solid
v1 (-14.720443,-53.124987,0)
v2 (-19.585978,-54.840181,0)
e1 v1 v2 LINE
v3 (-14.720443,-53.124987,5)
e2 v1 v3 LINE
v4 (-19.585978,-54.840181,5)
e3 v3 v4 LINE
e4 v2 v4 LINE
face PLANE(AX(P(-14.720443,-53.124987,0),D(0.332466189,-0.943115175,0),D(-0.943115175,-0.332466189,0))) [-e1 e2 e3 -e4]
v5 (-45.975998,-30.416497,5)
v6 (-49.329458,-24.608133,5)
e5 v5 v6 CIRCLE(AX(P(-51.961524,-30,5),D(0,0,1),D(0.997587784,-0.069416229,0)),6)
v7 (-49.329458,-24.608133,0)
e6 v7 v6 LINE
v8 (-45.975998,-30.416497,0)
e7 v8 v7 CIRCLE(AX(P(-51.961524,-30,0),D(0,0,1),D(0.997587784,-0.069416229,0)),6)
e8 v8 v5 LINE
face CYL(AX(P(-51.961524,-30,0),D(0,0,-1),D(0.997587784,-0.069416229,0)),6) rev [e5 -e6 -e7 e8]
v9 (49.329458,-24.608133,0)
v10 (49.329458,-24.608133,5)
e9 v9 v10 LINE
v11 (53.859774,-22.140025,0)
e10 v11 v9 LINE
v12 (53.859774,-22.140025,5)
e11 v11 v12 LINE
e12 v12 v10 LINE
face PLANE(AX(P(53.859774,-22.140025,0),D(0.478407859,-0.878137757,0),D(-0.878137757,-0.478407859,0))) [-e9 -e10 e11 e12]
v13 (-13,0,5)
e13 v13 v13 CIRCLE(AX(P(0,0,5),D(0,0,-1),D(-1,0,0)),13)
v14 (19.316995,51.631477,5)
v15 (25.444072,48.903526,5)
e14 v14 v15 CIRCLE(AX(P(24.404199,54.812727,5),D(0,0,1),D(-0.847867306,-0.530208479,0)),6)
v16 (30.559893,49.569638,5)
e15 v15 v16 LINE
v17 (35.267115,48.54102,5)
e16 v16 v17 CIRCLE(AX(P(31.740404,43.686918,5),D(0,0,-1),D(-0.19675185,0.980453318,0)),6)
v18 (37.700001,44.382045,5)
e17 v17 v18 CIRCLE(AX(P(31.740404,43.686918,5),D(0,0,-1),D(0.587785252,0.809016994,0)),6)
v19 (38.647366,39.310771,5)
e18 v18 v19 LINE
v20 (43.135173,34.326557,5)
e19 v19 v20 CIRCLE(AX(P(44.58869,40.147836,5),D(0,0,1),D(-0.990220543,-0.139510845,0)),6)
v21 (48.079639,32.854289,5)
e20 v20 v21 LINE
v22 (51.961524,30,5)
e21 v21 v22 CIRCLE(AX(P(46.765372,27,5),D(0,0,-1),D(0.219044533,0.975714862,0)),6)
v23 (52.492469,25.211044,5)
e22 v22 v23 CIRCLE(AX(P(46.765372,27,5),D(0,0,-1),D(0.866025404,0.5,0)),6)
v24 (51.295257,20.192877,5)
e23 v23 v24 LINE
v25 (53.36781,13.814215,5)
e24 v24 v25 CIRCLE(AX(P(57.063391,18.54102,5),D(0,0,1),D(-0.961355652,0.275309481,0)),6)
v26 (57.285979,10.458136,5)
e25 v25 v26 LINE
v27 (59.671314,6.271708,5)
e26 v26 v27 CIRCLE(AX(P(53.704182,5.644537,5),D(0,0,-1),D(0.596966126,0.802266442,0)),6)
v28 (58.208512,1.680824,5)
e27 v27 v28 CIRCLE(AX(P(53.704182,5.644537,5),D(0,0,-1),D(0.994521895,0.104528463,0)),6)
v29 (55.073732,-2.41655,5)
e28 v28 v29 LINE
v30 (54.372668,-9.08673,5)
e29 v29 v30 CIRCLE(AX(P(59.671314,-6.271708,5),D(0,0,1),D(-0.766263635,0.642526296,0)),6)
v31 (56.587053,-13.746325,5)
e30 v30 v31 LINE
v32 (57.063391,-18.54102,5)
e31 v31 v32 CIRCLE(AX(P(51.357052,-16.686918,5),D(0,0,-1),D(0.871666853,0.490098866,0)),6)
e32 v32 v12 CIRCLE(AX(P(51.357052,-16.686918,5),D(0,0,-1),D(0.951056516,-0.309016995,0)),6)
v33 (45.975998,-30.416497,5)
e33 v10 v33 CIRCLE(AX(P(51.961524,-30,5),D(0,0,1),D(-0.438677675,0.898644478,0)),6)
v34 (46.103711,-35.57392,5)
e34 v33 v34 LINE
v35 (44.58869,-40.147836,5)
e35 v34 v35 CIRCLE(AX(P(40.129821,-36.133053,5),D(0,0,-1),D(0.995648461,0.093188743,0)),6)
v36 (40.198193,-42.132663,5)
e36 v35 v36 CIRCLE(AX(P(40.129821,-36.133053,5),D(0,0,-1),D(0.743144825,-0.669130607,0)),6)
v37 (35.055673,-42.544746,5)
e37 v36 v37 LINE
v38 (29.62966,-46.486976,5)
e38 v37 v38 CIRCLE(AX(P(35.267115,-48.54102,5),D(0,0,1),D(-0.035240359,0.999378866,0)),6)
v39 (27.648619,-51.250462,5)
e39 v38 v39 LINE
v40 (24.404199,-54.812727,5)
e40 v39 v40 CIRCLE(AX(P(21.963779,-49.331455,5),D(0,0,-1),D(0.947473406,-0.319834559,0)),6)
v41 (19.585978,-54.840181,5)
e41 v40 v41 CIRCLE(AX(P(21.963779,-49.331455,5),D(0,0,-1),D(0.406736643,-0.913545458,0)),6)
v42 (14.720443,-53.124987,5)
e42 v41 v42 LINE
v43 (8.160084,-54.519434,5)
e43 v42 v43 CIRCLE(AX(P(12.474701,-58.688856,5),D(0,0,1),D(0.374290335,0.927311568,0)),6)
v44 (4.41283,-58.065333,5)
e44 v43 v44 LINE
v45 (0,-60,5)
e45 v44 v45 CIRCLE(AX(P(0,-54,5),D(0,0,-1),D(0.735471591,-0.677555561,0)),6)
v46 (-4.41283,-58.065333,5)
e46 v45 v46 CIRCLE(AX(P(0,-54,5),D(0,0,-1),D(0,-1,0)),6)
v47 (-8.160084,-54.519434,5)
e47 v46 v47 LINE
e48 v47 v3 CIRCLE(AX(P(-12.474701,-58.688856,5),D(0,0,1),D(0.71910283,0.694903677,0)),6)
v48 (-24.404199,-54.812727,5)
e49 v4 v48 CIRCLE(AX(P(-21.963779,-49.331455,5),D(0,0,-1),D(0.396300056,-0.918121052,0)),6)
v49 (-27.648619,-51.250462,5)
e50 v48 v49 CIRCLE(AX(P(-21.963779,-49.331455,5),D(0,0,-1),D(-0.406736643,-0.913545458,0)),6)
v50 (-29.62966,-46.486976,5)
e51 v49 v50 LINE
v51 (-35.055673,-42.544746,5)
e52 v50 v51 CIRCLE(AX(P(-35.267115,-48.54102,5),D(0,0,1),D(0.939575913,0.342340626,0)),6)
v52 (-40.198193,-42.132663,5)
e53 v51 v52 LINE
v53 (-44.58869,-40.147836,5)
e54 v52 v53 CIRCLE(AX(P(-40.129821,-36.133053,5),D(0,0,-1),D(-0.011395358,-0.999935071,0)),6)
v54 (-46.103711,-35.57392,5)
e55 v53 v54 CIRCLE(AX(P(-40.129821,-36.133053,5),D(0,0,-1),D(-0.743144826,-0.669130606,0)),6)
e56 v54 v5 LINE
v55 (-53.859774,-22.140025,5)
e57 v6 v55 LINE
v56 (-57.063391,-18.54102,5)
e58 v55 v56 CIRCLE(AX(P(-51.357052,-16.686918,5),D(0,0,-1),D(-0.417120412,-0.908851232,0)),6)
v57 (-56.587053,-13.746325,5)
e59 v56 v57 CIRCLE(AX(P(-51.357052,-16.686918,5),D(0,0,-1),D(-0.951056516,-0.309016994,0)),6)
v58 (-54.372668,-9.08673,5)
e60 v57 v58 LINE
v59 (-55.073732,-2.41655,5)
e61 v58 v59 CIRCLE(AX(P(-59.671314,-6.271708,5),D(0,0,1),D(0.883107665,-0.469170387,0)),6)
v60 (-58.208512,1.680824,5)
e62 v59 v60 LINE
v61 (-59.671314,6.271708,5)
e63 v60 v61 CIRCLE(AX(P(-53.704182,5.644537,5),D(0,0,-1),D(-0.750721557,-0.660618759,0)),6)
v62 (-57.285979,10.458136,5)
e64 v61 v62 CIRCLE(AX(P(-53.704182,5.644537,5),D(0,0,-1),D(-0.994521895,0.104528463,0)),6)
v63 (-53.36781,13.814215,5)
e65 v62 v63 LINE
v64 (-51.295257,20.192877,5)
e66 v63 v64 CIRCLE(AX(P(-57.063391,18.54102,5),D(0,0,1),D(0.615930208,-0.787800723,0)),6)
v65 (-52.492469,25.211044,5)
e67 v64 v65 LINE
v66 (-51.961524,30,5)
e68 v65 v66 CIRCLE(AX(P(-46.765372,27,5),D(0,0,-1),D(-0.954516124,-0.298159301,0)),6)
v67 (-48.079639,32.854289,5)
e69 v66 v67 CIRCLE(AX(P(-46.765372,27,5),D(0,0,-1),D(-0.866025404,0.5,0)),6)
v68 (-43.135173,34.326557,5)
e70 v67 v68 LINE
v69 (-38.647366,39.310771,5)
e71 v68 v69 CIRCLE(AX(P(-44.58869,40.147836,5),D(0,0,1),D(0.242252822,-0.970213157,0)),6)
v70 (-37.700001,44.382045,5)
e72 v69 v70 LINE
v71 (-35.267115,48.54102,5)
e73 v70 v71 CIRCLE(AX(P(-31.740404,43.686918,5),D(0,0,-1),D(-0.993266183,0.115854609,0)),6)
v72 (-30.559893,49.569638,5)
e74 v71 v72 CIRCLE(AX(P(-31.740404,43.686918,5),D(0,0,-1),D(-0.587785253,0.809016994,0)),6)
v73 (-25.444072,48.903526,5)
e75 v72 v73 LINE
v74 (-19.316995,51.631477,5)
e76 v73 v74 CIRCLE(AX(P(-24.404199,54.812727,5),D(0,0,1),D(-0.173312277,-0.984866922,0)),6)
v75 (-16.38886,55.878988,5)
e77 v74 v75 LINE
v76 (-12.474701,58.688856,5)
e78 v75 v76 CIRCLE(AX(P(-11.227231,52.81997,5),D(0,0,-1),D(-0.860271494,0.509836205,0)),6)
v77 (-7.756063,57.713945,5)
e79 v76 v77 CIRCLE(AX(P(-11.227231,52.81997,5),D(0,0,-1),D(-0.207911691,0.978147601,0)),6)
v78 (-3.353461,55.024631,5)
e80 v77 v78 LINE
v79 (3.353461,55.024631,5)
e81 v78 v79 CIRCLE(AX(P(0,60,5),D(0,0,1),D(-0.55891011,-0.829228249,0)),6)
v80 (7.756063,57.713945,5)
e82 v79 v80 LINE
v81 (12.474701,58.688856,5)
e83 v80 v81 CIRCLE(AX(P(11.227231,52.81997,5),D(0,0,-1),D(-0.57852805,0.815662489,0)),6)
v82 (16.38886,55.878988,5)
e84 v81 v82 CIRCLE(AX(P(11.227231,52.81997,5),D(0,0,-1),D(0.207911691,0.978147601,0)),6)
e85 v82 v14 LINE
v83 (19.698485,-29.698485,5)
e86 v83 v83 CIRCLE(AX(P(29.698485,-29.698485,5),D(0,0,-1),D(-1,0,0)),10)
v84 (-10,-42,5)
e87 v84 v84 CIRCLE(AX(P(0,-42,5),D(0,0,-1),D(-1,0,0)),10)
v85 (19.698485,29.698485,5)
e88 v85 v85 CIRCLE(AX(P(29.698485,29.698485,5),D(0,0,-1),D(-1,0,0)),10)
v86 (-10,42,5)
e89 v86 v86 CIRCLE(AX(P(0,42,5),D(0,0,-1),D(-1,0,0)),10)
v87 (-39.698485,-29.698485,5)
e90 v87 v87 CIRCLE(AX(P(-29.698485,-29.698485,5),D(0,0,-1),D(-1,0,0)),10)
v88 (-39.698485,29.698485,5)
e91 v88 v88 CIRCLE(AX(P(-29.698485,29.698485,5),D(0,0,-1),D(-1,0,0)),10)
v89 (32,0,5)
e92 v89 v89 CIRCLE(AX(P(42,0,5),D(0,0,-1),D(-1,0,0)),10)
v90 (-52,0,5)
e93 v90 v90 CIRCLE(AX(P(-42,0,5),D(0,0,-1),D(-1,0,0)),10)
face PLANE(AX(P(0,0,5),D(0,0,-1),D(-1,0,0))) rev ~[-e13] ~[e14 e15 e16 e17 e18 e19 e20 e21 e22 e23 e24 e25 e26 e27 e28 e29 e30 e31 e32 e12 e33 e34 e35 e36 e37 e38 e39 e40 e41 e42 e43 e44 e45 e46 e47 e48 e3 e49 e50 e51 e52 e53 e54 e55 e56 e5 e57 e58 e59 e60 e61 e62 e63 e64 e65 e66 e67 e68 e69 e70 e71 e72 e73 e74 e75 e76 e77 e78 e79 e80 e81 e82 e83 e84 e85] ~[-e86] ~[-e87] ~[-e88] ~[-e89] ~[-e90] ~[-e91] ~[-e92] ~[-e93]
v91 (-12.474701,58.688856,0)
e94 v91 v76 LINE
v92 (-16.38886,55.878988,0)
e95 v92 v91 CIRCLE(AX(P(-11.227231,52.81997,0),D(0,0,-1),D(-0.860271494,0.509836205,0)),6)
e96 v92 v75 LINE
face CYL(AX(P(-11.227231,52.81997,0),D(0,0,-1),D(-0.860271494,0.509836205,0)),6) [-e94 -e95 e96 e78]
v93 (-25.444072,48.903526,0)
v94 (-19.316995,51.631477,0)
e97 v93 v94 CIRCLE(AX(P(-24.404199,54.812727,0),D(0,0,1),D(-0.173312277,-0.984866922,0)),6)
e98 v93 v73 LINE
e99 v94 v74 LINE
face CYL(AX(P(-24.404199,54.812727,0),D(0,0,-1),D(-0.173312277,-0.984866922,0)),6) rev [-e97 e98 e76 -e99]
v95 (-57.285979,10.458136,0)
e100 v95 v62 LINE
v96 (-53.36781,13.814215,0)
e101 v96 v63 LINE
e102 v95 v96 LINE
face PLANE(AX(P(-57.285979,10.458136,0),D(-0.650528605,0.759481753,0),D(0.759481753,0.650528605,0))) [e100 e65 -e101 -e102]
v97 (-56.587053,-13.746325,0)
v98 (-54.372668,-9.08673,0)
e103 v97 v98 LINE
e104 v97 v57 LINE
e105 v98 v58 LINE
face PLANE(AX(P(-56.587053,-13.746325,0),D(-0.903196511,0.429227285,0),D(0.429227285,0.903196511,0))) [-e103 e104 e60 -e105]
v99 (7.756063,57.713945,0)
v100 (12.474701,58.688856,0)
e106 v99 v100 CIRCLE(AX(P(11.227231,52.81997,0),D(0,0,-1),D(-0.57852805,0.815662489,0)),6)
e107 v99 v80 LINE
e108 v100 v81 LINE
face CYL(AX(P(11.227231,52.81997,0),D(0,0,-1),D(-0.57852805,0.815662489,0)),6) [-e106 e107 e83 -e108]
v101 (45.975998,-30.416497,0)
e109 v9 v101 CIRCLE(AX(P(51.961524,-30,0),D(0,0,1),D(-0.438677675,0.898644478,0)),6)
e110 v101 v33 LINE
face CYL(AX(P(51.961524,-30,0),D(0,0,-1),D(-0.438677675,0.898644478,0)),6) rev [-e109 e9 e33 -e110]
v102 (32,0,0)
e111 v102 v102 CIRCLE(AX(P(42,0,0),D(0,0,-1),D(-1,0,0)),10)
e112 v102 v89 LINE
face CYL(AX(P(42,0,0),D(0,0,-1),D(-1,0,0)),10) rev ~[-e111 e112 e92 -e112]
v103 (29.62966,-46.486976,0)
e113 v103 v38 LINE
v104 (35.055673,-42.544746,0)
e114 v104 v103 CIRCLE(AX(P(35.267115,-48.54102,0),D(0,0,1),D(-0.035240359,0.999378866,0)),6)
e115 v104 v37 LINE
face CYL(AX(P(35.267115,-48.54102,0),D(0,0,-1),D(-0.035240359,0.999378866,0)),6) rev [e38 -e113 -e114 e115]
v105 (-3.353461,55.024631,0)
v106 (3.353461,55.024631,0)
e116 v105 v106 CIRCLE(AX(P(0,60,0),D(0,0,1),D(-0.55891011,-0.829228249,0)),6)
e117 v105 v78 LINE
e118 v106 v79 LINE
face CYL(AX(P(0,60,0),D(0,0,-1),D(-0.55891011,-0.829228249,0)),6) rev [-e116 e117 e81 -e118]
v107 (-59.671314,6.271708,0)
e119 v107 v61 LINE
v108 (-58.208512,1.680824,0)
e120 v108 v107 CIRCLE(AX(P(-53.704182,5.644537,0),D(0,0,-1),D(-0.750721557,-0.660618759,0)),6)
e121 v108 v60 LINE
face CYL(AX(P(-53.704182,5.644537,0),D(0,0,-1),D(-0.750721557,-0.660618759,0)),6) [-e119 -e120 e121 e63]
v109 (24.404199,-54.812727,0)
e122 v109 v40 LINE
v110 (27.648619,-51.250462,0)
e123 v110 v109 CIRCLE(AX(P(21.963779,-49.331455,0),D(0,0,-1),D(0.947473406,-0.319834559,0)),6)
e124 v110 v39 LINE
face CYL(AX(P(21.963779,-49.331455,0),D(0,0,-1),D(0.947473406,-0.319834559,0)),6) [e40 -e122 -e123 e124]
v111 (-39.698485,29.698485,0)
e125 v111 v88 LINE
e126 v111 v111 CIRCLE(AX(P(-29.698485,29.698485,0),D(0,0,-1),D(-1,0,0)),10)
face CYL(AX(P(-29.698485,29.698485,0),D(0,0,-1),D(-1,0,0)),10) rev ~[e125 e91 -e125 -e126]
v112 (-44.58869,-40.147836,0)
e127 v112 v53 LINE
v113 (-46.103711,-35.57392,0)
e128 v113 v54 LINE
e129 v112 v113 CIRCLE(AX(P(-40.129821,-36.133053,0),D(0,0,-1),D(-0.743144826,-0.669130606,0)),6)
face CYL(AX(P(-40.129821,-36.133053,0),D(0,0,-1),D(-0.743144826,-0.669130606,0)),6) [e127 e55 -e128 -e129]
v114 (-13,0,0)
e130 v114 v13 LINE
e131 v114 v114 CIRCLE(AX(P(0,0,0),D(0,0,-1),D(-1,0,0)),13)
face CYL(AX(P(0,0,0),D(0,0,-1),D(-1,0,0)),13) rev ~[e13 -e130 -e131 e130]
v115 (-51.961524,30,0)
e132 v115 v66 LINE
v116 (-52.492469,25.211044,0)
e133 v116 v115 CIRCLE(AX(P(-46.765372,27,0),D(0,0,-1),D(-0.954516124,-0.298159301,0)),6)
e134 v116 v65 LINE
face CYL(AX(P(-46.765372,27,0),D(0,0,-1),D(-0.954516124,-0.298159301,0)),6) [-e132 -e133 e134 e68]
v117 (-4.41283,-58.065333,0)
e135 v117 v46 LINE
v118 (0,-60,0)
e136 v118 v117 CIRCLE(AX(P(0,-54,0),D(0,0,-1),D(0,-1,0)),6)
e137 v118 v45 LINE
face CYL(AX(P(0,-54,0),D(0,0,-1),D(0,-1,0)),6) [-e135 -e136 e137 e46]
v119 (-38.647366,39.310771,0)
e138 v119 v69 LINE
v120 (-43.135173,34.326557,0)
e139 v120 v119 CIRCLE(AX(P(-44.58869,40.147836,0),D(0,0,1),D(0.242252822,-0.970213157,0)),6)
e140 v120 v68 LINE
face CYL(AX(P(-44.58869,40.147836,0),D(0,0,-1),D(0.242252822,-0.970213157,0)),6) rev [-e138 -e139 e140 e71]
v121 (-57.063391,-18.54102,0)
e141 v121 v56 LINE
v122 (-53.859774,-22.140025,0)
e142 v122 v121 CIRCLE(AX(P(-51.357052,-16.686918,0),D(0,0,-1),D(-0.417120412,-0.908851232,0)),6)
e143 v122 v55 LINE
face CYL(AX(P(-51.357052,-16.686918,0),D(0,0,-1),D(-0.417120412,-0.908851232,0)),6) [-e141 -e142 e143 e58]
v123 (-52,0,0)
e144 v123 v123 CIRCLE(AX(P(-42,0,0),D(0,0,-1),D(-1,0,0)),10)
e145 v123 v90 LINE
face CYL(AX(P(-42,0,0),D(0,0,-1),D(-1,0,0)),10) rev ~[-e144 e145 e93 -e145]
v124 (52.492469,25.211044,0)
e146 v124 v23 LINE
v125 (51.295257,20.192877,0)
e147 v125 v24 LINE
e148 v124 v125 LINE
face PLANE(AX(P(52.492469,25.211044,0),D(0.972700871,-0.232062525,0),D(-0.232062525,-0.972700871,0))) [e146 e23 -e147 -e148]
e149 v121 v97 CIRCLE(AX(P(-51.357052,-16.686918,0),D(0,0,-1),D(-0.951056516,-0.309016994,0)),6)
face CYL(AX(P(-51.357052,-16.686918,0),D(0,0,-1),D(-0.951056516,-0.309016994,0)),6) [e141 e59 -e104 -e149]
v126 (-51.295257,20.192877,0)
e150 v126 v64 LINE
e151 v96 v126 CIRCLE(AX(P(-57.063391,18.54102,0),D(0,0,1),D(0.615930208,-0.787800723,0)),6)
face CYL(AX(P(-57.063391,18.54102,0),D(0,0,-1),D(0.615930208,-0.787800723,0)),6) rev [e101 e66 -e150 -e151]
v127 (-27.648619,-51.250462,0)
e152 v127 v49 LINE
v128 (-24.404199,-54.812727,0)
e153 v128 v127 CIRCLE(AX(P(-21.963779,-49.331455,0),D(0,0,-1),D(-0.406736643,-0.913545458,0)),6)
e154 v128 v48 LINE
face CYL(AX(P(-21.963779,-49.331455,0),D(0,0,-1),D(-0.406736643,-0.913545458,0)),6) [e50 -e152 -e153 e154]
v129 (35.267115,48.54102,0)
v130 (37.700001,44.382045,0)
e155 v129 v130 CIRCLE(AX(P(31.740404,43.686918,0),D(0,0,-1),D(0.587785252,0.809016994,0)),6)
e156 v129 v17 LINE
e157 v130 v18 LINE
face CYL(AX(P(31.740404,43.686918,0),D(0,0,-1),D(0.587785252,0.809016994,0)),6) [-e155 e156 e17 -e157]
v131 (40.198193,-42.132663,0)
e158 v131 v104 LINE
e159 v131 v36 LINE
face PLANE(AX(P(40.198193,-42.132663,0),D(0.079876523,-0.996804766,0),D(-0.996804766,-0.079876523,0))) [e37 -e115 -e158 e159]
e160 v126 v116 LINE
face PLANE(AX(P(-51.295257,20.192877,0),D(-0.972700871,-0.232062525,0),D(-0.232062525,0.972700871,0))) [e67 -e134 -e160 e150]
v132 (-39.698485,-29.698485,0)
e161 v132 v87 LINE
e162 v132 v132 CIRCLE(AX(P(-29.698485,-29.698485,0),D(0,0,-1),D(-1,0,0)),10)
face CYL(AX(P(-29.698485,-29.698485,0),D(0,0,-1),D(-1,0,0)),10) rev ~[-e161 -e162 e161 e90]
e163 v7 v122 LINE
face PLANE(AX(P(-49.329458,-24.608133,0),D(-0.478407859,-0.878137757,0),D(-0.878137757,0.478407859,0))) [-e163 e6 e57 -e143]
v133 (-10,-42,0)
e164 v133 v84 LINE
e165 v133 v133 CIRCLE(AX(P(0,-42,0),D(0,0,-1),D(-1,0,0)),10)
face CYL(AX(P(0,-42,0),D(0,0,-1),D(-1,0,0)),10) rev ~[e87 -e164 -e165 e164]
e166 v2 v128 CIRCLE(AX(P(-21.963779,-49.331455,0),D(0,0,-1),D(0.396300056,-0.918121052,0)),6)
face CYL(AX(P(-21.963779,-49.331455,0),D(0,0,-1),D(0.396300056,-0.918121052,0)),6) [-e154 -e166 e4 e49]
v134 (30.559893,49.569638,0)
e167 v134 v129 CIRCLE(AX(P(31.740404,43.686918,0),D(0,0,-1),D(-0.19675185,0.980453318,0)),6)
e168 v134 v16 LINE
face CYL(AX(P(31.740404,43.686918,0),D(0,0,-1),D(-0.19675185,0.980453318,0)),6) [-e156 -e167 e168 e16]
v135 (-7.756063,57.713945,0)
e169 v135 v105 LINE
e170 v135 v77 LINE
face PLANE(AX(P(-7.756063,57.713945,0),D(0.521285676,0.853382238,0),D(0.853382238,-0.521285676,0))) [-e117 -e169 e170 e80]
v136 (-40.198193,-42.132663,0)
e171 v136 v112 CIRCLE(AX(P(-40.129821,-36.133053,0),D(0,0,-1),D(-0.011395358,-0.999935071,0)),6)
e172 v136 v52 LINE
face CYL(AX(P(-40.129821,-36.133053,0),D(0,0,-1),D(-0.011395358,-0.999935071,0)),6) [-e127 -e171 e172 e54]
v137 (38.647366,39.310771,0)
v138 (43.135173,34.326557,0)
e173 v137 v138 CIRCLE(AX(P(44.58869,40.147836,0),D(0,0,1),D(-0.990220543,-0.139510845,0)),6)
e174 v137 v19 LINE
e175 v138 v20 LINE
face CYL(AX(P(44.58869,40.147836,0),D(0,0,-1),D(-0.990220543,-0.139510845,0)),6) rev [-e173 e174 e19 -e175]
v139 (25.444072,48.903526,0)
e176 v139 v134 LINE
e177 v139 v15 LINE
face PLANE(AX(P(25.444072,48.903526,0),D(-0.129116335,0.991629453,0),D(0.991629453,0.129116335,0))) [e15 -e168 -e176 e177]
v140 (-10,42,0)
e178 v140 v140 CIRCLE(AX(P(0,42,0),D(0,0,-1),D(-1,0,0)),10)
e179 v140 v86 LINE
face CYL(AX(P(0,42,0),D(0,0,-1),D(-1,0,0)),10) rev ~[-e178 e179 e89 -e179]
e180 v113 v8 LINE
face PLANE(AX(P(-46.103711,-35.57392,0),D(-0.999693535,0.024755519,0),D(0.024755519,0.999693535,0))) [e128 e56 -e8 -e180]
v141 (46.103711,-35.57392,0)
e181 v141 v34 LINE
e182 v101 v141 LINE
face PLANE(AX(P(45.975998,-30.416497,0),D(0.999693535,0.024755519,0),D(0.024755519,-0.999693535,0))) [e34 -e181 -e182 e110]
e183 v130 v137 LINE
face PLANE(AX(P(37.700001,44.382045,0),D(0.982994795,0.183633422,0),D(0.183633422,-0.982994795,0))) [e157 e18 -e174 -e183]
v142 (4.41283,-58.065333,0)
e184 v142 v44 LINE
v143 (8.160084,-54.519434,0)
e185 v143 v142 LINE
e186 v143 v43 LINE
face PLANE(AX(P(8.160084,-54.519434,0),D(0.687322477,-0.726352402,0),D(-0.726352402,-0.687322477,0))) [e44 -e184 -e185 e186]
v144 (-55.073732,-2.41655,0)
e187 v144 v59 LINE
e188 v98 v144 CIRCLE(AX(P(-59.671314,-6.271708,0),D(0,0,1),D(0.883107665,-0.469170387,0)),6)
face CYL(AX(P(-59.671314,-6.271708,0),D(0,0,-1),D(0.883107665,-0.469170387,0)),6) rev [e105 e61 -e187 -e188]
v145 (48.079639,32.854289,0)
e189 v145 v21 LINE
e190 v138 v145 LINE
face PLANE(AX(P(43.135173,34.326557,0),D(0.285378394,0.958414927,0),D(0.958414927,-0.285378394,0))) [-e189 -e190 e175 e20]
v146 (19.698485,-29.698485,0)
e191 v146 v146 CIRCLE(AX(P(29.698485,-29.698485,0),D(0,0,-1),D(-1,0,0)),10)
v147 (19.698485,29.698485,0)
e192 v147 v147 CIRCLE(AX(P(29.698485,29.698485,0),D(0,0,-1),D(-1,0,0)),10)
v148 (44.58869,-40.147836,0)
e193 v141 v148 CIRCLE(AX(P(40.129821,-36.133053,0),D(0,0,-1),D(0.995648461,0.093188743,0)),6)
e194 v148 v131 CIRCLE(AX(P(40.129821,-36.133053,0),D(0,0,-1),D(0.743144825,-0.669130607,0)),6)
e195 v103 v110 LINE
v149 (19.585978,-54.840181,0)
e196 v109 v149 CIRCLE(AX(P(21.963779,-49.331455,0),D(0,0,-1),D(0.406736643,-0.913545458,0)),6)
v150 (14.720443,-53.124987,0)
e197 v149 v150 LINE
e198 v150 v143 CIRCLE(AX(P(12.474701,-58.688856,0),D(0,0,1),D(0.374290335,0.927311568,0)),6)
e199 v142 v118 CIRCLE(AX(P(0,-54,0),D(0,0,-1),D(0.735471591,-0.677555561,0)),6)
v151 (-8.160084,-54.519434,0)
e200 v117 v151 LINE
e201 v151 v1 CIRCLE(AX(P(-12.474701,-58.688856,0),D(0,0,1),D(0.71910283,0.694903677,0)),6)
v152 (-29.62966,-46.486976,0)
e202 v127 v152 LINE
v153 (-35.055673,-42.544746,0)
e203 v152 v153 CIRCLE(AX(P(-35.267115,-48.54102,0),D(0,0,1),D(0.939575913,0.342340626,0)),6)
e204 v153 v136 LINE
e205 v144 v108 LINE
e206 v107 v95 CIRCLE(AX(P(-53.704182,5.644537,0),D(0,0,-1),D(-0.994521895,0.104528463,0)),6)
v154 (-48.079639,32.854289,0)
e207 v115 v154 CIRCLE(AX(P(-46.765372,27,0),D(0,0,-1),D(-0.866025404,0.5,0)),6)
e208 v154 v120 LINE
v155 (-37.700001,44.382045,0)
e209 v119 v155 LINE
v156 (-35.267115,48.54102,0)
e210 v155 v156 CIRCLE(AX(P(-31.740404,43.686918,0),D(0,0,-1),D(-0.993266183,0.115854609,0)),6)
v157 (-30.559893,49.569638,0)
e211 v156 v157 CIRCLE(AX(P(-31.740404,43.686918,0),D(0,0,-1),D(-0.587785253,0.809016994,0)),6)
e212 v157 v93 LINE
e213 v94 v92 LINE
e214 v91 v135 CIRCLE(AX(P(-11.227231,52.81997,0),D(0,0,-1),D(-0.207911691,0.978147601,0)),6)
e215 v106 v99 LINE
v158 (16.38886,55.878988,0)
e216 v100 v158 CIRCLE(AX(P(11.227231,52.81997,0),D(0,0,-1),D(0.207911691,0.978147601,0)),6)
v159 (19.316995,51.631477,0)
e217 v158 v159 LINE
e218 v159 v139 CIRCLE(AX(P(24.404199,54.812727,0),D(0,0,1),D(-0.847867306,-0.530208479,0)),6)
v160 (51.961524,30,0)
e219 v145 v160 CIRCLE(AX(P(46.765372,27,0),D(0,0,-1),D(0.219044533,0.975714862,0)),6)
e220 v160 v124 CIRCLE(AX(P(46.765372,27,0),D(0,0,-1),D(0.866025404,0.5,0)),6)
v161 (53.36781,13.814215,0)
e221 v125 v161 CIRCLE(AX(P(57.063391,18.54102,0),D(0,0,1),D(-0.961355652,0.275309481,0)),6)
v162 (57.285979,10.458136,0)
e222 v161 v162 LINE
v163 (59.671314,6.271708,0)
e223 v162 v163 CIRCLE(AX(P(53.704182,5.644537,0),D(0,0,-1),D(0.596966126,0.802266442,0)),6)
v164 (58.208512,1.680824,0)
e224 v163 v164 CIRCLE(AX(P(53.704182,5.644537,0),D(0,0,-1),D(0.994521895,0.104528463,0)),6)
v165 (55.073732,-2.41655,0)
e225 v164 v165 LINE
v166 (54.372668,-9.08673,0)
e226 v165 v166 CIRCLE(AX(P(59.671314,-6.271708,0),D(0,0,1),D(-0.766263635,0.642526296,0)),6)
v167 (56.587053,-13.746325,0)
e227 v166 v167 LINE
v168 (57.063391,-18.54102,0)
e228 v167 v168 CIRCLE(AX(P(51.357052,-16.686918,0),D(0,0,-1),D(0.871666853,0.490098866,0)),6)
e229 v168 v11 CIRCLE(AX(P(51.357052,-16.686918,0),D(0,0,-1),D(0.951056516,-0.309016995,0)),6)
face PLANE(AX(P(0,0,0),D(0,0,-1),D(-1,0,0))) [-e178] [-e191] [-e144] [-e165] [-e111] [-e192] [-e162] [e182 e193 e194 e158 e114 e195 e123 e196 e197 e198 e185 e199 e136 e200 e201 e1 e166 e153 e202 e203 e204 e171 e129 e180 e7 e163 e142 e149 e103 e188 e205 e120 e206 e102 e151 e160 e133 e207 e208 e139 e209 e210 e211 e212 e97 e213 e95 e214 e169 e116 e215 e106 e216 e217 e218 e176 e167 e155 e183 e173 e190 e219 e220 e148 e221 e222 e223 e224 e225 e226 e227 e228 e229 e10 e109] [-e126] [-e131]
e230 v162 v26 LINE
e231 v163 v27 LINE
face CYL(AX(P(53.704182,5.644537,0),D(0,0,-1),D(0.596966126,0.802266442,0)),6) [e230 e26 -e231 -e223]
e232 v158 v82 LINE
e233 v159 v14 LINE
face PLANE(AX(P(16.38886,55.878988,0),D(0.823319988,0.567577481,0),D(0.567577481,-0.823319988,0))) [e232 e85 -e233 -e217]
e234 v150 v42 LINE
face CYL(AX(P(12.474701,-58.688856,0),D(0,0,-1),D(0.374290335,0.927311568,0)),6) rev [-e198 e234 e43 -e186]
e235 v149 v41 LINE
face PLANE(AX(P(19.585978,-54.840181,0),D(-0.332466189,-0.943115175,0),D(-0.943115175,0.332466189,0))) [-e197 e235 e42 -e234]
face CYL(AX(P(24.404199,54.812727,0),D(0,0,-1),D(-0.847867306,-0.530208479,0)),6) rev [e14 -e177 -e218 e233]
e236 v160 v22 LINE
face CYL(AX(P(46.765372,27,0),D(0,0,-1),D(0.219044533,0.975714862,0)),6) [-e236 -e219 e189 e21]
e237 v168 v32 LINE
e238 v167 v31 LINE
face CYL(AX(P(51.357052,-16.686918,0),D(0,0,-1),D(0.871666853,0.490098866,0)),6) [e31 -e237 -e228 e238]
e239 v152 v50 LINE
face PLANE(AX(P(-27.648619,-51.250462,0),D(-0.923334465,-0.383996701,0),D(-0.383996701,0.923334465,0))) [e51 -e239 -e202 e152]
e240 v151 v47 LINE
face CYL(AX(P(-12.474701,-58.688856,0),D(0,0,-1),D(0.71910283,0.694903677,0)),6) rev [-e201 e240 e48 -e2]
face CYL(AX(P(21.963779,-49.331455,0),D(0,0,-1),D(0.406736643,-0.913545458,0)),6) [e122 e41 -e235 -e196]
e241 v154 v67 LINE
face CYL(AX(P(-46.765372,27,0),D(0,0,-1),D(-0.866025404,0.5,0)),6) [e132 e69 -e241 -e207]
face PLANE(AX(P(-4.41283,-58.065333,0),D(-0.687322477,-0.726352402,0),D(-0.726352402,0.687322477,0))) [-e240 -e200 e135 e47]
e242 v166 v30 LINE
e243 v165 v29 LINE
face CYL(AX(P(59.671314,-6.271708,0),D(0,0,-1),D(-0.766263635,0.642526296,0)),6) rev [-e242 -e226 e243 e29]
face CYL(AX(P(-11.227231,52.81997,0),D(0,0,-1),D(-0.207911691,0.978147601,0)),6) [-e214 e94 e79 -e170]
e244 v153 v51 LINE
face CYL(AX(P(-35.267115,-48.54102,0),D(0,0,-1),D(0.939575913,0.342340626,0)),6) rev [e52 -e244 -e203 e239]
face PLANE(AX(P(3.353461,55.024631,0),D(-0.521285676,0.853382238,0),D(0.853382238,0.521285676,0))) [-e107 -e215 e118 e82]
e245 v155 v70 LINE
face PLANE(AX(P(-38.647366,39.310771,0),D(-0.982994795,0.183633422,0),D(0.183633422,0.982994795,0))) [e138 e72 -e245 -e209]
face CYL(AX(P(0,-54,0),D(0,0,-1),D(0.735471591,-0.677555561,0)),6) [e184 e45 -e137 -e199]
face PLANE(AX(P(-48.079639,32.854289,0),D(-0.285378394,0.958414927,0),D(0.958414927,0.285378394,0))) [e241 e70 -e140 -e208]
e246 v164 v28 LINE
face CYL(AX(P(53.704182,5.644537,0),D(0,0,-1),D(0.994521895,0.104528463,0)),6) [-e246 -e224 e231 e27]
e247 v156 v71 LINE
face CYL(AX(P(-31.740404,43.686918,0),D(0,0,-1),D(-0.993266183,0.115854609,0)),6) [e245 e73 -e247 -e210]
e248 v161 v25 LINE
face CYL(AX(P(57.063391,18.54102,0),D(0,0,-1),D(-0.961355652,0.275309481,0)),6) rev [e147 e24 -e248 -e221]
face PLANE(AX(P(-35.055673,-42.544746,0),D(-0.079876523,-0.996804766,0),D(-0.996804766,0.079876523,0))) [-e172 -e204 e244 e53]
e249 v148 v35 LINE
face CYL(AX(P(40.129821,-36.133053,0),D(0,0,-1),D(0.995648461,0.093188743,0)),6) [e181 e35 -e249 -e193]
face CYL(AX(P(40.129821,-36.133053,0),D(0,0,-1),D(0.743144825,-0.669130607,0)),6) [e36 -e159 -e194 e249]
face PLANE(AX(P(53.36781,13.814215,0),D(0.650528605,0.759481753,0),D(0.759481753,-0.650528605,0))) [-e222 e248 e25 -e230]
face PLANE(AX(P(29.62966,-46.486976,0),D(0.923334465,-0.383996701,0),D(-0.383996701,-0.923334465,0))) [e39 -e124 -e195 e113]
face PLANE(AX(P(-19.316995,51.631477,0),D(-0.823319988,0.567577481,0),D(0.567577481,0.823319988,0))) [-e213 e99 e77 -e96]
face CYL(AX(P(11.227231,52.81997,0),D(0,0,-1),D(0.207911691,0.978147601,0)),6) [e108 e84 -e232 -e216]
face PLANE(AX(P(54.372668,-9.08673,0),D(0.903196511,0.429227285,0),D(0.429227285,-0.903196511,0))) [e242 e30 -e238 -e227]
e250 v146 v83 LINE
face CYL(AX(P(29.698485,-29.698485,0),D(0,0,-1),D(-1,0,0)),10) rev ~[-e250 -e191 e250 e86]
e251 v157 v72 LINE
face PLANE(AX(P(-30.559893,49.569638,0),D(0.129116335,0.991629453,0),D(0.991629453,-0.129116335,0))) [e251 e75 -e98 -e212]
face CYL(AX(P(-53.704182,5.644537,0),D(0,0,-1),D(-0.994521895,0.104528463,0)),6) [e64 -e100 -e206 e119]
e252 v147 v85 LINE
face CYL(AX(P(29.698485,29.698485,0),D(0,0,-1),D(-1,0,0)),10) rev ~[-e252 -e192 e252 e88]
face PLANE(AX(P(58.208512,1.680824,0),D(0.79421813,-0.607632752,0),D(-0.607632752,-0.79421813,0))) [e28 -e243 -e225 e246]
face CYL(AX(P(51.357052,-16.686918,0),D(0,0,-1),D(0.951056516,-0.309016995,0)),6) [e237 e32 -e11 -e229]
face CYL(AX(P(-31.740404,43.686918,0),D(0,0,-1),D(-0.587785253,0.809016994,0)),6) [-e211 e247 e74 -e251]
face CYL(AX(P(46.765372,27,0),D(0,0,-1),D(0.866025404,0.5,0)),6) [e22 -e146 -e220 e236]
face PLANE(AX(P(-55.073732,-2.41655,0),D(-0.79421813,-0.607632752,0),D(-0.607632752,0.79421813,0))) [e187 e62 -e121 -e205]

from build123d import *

# Parameters (mm, degrees)
BOSS_EXTRU_1_DEPTH      = 5
ESQUISSE2_R             = 13
ESQUISSE2_R_2           = 10
ENL_V_MAT_EXTRU_1_DEPTH = 85.791446444


with BuildPart() as part:
    # Esquisse1 → Boss.-Extru.1 (new body)
    with BuildSketch(Plane.XY):
        with BuildLine():
            Line((-7.756063007, 57.713945373), (-3.353460657, 55.024630504))
            ThreePointArc((-3.353460657, 55.024630504), (0, 54), (3.353460657, 55.024630504))
            Line((3.353460657, 55.024630504), (7.756063007, 57.713945373))
            ThreePointArc((7.756063007, 57.713945373), (10.013220978, 58.695868578), (12.474701449, 58.688856044))
            ThreePointArc((12.474701449, 58.688856044), (14.726228007, 57.694088008), (16.388860271, 55.878987669))
            Line((16.388860271, 55.878987669), (19.316994747, 51.631476586))
            ThreePointArc((19.316994747, 51.631476586), (21.963778726, 49.331454713), (25.444072249, 48.903525925))
            Line((25.444072249, 48.903525925), (30.559892529, 49.569637607))
            ThreePointArc((30.559892529, 49.569637607), (33.021293088, 49.548600235), (35.267115138, 48.541019662))
            ThreePointArc((35.267115138, 48.541019662), (36.919378386, 46.716475488), (37.700000719, 44.382045352))
            Line((37.700000719, 44.382045352), (38.64736627, 39.310771309))
            ThreePointArc((38.64736627, 39.310771309), (40.129820576, 36.133052743), (43.135172596, 34.326557439))
            Line((43.135172596, 34.326557439), (48.079639004, 32.854289173))
            ThreePointArc((48.079639004, 32.854289173), (50.319683635, 31.833928776), (51.961524227, 30))
            ThreePointArc((51.961524227, 30), (52.72883284, 27.66115995), (52.49246855, 25.211044196))
            Line((52.49246855, 25.211044196), (51.295257065, 20.192876545))
            ThreePointArc((51.295257065, 20.192876545), (51.35705188, 16.686917696), (53.367809731, 13.814215325))
            Line((53.367809731, 13.814215325), (57.285979107, 10.45813567))
            ThreePointArc((57.285979107, 10.45813567), (58.917343741, 8.61488183), (59.671313722, 6.271707796))
            ThreePointArc((59.671313722, 6.271707796), (59.420993069, 3.822978563), (58.208511689, 1.680824463))
            Line((58.208511689, 1.680824463), (55.07373191, -2.416550019))
            ThreePointArc((55.07373191, -2.416550019), (53.70418235, -5.644537016), (54.372667732, -9.086730118))
            Line((54.372667732, -9.086730118), (56.587052995, -13.746324501))
            ThreePointArc((56.587052995, -13.746324501), (57.327659867, -16.093756448), (57.063390978, -18.541019662))
            ThreePointArc((57.063390978, -18.541019662), (55.838723774, -20.676230548), (53.859774349, -22.14002509))
            Line((53.859774349, -22.14002509), (49.329458179, -24.608133132))
            ThreePointArc((49.329458179, -24.608133132), (46.765371804, -27), (45.975997522, -30.416497372))
            Line((45.975997522, -30.416497372), (46.103711342, -35.573920284))
            ThreePointArc((46.103711342, -35.573920284), (45.825502796, -38.019638029), (44.588689529, -40.147836382))
            ThreePointArc((44.588689529, -40.147836382), (42.60143186, -41.60033156), (40.198192724, -42.132663168))
            Line((40.198192724, -42.132663168), (35.055672985, -42.544746469))
            ThreePointArc((35.055672985, -42.544746469), (31.740403624, -43.686917696), (29.629659661, -46.486975906))
            Line((29.629659661, -46.486975906), (27.64861916, -51.25046207))
            ThreePointArc((27.64861916, -51.25046207), (26.399699981, -53.371578798), (24.404198585, -54.812727459))
            ThreePointArc((24.404198585, -54.812727459), (21.997965355, -55.331357318), (19.585978387, -54.840181022))
            Line((19.585978387, -54.840181022), (14.720443461, -53.124986634))
            ThreePointArc((14.720443461, -53.124986634), (11.227231304, -52.81997044), (8.160084469, -54.519433984))
            Line((8.160084469, -54.519433984), (4.412829545, -58.065333369))
            ThreePointArc((4.412829545, -58.065333369), (2.409149205, -59.495088726), (0, -60))
            ThreePointArc((0, -60), (-2.409149205, -59.495088726), (-4.412829545, -58.065333369))
            Line((-4.412829545, -58.065333369), (-8.160084469, -54.519433984))
            ThreePointArc((-8.160084469, -54.519433984), (-11.227231304, -52.81997044), (-14.720443461, -53.124986634))
            Line((-14.720443461, -53.124986634), (-19.585978387, -54.840181022))
            ThreePointArc((-19.585978387, -54.840181022), (-21.997965355, -55.331357318), (-24.404198585, -54.812727459))
            ThreePointArc((-24.404198585, -54.812727459), (-26.399699981, -53.371578798), (-27.64861916, -51.25046207))
            Line((-27.64861916, -51.25046207), (-29.629659661, -46.486975906))
            ThreePointArc((-29.629659661, -46.486975906), (-31.740403624, -43.686917696), (-35.055672985, -42.544746469))
            Line((-35.055672985, -42.544746469), (-40.198192724, -42.132663168))
            ThreePointArc((-40.198192724, -42.132663168), (-42.60143186, -41.60033156), (-44.588689529, -40.147836382))
            ThreePointArc((-44.588689529, -40.147836382), (-45.825502796, -38.019638029), (-46.103711342, -35.573920284))
            Line((-46.103711342, -35.573920284), (-45.975997522, -30.416497372))
            ThreePointArc((-45.975997522, -30.416497372), (-46.765371804, -27), (-49.329458179, -24.608133132))
            Line((-49.329458179, -24.608133132), (-53.859774349, -22.14002509))
            ThreePointArc((-53.859774349, -22.14002509), (-55.838723774, -20.676230548), (-57.063390978, -18.541019662))
            ThreePointArc((-57.063390978, -18.541019662), (-57.327659867, -16.093756448), (-56.587052995, -13.746324501))
            Line((-56.587052995, -13.746324501), (-54.372667732, -9.086730118))
            ThreePointArc((-54.372667732, -9.086730118), (-53.70418235, -5.644537016), (-55.07373191, -2.416550019))
            Line((-55.07373191, -2.416550019), (-58.208511689, 1.680824463))
            ThreePointArc((-58.208511689, 1.680824463), (-59.420993069, 3.822978563), (-59.671313722, 6.271707796))
            ThreePointArc((-59.671313722, 6.271707796), (-58.917343741, 8.61488183), (-57.285979107, 10.45813567))
            Line((-57.285979107, 10.45813567), (-53.367809731, 13.814215325))
            ThreePointArc((-53.367809731, 13.814215325), (-51.35705188, 16.686917696), (-51.295257065, 20.192876545))
            Line((-51.295257065, 20.192876545), (-52.49246855, 25.211044196))
            ThreePointArc((-52.49246855, 25.211044196), (-52.72883284, 27.66115995), (-51.961524227, 30))
            ThreePointArc((-51.961524227, 30), (-50.319683635, 31.833928776), (-48.079639004, 32.854289173))
            Line((-48.079639004, 32.854289173), (-43.135172596, 34.326557439))
            ThreePointArc((-43.135172596, 34.326557439), (-40.129820576, 36.133052743), (-38.64736627, 39.310771309))
            Line((-38.64736627, 39.310771309), (-37.700000719, 44.382045352))
            ThreePointArc((-37.700000719, 44.382045352), (-36.919378386, 46.716475488), (-35.267115138, 48.541019662))
            ThreePointArc((-35.267115138, 48.541019662), (-33.021293088, 49.548600235), (-30.559892529, 49.569637607))
            Line((-30.559892529, 49.569637607), (-25.444072249, 48.903525925))
            ThreePointArc((-25.444072249, 48.903525925), (-21.963778726, 49.331454713), (-19.316994747, 51.631476586))
            Line((-19.316994747, 51.631476586), (-16.388860271, 55.878987669))
            ThreePointArc((-16.388860271, 55.878987669), (-14.726228007, 57.694088008), (-12.474701449, 58.688856044))
            ThreePointArc((-12.474701449, 58.688856044), (-10.013220978, 58.695868578), (-7.756063007, 57.713945373))
        make_face()
    extrude(amount=BOSS_EXTRU_1_DEPTH)

    # Esquisse2 → Enlèv. mat.-Extru.1 (cut, through all)
    with BuildSketch(Plane(origin=(0, 0, 0), x_dir=(-1, 0, 0), z_dir=(0, 0, -1))):
        Circle(ESQUISSE2_R)
        with Locations((0, 42)):
            Circle(ESQUISSE2_R_2)
        with Locations((29.69848481, 29.69848481)):
            Circle(ESQUISSE2_R_2)
        with Locations((42, 0)):
            Circle(ESQUISSE2_R_2)
        with Locations((29.69848481, -29.69848481)):
            Circle(ESQUISSE2_R_2)
        with Locations((0, -42)):
            Circle(ESQUISSE2_R_2)
        with Locations((-29.69848481, -29.69848481)):
            Circle(ESQUISSE2_R_2)
        with Locations((-42, 0)):
            Circle(ESQUISSE2_R_2)
        with Locations((-29.69848481, 29.69848481)):
            Circle(ESQUISSE2_R_2)
    extrude(amount=-ENL_V_MAT_EXTRU_1_DEPTH, mode=Mode.SUBTRACT)


solid = part.part
